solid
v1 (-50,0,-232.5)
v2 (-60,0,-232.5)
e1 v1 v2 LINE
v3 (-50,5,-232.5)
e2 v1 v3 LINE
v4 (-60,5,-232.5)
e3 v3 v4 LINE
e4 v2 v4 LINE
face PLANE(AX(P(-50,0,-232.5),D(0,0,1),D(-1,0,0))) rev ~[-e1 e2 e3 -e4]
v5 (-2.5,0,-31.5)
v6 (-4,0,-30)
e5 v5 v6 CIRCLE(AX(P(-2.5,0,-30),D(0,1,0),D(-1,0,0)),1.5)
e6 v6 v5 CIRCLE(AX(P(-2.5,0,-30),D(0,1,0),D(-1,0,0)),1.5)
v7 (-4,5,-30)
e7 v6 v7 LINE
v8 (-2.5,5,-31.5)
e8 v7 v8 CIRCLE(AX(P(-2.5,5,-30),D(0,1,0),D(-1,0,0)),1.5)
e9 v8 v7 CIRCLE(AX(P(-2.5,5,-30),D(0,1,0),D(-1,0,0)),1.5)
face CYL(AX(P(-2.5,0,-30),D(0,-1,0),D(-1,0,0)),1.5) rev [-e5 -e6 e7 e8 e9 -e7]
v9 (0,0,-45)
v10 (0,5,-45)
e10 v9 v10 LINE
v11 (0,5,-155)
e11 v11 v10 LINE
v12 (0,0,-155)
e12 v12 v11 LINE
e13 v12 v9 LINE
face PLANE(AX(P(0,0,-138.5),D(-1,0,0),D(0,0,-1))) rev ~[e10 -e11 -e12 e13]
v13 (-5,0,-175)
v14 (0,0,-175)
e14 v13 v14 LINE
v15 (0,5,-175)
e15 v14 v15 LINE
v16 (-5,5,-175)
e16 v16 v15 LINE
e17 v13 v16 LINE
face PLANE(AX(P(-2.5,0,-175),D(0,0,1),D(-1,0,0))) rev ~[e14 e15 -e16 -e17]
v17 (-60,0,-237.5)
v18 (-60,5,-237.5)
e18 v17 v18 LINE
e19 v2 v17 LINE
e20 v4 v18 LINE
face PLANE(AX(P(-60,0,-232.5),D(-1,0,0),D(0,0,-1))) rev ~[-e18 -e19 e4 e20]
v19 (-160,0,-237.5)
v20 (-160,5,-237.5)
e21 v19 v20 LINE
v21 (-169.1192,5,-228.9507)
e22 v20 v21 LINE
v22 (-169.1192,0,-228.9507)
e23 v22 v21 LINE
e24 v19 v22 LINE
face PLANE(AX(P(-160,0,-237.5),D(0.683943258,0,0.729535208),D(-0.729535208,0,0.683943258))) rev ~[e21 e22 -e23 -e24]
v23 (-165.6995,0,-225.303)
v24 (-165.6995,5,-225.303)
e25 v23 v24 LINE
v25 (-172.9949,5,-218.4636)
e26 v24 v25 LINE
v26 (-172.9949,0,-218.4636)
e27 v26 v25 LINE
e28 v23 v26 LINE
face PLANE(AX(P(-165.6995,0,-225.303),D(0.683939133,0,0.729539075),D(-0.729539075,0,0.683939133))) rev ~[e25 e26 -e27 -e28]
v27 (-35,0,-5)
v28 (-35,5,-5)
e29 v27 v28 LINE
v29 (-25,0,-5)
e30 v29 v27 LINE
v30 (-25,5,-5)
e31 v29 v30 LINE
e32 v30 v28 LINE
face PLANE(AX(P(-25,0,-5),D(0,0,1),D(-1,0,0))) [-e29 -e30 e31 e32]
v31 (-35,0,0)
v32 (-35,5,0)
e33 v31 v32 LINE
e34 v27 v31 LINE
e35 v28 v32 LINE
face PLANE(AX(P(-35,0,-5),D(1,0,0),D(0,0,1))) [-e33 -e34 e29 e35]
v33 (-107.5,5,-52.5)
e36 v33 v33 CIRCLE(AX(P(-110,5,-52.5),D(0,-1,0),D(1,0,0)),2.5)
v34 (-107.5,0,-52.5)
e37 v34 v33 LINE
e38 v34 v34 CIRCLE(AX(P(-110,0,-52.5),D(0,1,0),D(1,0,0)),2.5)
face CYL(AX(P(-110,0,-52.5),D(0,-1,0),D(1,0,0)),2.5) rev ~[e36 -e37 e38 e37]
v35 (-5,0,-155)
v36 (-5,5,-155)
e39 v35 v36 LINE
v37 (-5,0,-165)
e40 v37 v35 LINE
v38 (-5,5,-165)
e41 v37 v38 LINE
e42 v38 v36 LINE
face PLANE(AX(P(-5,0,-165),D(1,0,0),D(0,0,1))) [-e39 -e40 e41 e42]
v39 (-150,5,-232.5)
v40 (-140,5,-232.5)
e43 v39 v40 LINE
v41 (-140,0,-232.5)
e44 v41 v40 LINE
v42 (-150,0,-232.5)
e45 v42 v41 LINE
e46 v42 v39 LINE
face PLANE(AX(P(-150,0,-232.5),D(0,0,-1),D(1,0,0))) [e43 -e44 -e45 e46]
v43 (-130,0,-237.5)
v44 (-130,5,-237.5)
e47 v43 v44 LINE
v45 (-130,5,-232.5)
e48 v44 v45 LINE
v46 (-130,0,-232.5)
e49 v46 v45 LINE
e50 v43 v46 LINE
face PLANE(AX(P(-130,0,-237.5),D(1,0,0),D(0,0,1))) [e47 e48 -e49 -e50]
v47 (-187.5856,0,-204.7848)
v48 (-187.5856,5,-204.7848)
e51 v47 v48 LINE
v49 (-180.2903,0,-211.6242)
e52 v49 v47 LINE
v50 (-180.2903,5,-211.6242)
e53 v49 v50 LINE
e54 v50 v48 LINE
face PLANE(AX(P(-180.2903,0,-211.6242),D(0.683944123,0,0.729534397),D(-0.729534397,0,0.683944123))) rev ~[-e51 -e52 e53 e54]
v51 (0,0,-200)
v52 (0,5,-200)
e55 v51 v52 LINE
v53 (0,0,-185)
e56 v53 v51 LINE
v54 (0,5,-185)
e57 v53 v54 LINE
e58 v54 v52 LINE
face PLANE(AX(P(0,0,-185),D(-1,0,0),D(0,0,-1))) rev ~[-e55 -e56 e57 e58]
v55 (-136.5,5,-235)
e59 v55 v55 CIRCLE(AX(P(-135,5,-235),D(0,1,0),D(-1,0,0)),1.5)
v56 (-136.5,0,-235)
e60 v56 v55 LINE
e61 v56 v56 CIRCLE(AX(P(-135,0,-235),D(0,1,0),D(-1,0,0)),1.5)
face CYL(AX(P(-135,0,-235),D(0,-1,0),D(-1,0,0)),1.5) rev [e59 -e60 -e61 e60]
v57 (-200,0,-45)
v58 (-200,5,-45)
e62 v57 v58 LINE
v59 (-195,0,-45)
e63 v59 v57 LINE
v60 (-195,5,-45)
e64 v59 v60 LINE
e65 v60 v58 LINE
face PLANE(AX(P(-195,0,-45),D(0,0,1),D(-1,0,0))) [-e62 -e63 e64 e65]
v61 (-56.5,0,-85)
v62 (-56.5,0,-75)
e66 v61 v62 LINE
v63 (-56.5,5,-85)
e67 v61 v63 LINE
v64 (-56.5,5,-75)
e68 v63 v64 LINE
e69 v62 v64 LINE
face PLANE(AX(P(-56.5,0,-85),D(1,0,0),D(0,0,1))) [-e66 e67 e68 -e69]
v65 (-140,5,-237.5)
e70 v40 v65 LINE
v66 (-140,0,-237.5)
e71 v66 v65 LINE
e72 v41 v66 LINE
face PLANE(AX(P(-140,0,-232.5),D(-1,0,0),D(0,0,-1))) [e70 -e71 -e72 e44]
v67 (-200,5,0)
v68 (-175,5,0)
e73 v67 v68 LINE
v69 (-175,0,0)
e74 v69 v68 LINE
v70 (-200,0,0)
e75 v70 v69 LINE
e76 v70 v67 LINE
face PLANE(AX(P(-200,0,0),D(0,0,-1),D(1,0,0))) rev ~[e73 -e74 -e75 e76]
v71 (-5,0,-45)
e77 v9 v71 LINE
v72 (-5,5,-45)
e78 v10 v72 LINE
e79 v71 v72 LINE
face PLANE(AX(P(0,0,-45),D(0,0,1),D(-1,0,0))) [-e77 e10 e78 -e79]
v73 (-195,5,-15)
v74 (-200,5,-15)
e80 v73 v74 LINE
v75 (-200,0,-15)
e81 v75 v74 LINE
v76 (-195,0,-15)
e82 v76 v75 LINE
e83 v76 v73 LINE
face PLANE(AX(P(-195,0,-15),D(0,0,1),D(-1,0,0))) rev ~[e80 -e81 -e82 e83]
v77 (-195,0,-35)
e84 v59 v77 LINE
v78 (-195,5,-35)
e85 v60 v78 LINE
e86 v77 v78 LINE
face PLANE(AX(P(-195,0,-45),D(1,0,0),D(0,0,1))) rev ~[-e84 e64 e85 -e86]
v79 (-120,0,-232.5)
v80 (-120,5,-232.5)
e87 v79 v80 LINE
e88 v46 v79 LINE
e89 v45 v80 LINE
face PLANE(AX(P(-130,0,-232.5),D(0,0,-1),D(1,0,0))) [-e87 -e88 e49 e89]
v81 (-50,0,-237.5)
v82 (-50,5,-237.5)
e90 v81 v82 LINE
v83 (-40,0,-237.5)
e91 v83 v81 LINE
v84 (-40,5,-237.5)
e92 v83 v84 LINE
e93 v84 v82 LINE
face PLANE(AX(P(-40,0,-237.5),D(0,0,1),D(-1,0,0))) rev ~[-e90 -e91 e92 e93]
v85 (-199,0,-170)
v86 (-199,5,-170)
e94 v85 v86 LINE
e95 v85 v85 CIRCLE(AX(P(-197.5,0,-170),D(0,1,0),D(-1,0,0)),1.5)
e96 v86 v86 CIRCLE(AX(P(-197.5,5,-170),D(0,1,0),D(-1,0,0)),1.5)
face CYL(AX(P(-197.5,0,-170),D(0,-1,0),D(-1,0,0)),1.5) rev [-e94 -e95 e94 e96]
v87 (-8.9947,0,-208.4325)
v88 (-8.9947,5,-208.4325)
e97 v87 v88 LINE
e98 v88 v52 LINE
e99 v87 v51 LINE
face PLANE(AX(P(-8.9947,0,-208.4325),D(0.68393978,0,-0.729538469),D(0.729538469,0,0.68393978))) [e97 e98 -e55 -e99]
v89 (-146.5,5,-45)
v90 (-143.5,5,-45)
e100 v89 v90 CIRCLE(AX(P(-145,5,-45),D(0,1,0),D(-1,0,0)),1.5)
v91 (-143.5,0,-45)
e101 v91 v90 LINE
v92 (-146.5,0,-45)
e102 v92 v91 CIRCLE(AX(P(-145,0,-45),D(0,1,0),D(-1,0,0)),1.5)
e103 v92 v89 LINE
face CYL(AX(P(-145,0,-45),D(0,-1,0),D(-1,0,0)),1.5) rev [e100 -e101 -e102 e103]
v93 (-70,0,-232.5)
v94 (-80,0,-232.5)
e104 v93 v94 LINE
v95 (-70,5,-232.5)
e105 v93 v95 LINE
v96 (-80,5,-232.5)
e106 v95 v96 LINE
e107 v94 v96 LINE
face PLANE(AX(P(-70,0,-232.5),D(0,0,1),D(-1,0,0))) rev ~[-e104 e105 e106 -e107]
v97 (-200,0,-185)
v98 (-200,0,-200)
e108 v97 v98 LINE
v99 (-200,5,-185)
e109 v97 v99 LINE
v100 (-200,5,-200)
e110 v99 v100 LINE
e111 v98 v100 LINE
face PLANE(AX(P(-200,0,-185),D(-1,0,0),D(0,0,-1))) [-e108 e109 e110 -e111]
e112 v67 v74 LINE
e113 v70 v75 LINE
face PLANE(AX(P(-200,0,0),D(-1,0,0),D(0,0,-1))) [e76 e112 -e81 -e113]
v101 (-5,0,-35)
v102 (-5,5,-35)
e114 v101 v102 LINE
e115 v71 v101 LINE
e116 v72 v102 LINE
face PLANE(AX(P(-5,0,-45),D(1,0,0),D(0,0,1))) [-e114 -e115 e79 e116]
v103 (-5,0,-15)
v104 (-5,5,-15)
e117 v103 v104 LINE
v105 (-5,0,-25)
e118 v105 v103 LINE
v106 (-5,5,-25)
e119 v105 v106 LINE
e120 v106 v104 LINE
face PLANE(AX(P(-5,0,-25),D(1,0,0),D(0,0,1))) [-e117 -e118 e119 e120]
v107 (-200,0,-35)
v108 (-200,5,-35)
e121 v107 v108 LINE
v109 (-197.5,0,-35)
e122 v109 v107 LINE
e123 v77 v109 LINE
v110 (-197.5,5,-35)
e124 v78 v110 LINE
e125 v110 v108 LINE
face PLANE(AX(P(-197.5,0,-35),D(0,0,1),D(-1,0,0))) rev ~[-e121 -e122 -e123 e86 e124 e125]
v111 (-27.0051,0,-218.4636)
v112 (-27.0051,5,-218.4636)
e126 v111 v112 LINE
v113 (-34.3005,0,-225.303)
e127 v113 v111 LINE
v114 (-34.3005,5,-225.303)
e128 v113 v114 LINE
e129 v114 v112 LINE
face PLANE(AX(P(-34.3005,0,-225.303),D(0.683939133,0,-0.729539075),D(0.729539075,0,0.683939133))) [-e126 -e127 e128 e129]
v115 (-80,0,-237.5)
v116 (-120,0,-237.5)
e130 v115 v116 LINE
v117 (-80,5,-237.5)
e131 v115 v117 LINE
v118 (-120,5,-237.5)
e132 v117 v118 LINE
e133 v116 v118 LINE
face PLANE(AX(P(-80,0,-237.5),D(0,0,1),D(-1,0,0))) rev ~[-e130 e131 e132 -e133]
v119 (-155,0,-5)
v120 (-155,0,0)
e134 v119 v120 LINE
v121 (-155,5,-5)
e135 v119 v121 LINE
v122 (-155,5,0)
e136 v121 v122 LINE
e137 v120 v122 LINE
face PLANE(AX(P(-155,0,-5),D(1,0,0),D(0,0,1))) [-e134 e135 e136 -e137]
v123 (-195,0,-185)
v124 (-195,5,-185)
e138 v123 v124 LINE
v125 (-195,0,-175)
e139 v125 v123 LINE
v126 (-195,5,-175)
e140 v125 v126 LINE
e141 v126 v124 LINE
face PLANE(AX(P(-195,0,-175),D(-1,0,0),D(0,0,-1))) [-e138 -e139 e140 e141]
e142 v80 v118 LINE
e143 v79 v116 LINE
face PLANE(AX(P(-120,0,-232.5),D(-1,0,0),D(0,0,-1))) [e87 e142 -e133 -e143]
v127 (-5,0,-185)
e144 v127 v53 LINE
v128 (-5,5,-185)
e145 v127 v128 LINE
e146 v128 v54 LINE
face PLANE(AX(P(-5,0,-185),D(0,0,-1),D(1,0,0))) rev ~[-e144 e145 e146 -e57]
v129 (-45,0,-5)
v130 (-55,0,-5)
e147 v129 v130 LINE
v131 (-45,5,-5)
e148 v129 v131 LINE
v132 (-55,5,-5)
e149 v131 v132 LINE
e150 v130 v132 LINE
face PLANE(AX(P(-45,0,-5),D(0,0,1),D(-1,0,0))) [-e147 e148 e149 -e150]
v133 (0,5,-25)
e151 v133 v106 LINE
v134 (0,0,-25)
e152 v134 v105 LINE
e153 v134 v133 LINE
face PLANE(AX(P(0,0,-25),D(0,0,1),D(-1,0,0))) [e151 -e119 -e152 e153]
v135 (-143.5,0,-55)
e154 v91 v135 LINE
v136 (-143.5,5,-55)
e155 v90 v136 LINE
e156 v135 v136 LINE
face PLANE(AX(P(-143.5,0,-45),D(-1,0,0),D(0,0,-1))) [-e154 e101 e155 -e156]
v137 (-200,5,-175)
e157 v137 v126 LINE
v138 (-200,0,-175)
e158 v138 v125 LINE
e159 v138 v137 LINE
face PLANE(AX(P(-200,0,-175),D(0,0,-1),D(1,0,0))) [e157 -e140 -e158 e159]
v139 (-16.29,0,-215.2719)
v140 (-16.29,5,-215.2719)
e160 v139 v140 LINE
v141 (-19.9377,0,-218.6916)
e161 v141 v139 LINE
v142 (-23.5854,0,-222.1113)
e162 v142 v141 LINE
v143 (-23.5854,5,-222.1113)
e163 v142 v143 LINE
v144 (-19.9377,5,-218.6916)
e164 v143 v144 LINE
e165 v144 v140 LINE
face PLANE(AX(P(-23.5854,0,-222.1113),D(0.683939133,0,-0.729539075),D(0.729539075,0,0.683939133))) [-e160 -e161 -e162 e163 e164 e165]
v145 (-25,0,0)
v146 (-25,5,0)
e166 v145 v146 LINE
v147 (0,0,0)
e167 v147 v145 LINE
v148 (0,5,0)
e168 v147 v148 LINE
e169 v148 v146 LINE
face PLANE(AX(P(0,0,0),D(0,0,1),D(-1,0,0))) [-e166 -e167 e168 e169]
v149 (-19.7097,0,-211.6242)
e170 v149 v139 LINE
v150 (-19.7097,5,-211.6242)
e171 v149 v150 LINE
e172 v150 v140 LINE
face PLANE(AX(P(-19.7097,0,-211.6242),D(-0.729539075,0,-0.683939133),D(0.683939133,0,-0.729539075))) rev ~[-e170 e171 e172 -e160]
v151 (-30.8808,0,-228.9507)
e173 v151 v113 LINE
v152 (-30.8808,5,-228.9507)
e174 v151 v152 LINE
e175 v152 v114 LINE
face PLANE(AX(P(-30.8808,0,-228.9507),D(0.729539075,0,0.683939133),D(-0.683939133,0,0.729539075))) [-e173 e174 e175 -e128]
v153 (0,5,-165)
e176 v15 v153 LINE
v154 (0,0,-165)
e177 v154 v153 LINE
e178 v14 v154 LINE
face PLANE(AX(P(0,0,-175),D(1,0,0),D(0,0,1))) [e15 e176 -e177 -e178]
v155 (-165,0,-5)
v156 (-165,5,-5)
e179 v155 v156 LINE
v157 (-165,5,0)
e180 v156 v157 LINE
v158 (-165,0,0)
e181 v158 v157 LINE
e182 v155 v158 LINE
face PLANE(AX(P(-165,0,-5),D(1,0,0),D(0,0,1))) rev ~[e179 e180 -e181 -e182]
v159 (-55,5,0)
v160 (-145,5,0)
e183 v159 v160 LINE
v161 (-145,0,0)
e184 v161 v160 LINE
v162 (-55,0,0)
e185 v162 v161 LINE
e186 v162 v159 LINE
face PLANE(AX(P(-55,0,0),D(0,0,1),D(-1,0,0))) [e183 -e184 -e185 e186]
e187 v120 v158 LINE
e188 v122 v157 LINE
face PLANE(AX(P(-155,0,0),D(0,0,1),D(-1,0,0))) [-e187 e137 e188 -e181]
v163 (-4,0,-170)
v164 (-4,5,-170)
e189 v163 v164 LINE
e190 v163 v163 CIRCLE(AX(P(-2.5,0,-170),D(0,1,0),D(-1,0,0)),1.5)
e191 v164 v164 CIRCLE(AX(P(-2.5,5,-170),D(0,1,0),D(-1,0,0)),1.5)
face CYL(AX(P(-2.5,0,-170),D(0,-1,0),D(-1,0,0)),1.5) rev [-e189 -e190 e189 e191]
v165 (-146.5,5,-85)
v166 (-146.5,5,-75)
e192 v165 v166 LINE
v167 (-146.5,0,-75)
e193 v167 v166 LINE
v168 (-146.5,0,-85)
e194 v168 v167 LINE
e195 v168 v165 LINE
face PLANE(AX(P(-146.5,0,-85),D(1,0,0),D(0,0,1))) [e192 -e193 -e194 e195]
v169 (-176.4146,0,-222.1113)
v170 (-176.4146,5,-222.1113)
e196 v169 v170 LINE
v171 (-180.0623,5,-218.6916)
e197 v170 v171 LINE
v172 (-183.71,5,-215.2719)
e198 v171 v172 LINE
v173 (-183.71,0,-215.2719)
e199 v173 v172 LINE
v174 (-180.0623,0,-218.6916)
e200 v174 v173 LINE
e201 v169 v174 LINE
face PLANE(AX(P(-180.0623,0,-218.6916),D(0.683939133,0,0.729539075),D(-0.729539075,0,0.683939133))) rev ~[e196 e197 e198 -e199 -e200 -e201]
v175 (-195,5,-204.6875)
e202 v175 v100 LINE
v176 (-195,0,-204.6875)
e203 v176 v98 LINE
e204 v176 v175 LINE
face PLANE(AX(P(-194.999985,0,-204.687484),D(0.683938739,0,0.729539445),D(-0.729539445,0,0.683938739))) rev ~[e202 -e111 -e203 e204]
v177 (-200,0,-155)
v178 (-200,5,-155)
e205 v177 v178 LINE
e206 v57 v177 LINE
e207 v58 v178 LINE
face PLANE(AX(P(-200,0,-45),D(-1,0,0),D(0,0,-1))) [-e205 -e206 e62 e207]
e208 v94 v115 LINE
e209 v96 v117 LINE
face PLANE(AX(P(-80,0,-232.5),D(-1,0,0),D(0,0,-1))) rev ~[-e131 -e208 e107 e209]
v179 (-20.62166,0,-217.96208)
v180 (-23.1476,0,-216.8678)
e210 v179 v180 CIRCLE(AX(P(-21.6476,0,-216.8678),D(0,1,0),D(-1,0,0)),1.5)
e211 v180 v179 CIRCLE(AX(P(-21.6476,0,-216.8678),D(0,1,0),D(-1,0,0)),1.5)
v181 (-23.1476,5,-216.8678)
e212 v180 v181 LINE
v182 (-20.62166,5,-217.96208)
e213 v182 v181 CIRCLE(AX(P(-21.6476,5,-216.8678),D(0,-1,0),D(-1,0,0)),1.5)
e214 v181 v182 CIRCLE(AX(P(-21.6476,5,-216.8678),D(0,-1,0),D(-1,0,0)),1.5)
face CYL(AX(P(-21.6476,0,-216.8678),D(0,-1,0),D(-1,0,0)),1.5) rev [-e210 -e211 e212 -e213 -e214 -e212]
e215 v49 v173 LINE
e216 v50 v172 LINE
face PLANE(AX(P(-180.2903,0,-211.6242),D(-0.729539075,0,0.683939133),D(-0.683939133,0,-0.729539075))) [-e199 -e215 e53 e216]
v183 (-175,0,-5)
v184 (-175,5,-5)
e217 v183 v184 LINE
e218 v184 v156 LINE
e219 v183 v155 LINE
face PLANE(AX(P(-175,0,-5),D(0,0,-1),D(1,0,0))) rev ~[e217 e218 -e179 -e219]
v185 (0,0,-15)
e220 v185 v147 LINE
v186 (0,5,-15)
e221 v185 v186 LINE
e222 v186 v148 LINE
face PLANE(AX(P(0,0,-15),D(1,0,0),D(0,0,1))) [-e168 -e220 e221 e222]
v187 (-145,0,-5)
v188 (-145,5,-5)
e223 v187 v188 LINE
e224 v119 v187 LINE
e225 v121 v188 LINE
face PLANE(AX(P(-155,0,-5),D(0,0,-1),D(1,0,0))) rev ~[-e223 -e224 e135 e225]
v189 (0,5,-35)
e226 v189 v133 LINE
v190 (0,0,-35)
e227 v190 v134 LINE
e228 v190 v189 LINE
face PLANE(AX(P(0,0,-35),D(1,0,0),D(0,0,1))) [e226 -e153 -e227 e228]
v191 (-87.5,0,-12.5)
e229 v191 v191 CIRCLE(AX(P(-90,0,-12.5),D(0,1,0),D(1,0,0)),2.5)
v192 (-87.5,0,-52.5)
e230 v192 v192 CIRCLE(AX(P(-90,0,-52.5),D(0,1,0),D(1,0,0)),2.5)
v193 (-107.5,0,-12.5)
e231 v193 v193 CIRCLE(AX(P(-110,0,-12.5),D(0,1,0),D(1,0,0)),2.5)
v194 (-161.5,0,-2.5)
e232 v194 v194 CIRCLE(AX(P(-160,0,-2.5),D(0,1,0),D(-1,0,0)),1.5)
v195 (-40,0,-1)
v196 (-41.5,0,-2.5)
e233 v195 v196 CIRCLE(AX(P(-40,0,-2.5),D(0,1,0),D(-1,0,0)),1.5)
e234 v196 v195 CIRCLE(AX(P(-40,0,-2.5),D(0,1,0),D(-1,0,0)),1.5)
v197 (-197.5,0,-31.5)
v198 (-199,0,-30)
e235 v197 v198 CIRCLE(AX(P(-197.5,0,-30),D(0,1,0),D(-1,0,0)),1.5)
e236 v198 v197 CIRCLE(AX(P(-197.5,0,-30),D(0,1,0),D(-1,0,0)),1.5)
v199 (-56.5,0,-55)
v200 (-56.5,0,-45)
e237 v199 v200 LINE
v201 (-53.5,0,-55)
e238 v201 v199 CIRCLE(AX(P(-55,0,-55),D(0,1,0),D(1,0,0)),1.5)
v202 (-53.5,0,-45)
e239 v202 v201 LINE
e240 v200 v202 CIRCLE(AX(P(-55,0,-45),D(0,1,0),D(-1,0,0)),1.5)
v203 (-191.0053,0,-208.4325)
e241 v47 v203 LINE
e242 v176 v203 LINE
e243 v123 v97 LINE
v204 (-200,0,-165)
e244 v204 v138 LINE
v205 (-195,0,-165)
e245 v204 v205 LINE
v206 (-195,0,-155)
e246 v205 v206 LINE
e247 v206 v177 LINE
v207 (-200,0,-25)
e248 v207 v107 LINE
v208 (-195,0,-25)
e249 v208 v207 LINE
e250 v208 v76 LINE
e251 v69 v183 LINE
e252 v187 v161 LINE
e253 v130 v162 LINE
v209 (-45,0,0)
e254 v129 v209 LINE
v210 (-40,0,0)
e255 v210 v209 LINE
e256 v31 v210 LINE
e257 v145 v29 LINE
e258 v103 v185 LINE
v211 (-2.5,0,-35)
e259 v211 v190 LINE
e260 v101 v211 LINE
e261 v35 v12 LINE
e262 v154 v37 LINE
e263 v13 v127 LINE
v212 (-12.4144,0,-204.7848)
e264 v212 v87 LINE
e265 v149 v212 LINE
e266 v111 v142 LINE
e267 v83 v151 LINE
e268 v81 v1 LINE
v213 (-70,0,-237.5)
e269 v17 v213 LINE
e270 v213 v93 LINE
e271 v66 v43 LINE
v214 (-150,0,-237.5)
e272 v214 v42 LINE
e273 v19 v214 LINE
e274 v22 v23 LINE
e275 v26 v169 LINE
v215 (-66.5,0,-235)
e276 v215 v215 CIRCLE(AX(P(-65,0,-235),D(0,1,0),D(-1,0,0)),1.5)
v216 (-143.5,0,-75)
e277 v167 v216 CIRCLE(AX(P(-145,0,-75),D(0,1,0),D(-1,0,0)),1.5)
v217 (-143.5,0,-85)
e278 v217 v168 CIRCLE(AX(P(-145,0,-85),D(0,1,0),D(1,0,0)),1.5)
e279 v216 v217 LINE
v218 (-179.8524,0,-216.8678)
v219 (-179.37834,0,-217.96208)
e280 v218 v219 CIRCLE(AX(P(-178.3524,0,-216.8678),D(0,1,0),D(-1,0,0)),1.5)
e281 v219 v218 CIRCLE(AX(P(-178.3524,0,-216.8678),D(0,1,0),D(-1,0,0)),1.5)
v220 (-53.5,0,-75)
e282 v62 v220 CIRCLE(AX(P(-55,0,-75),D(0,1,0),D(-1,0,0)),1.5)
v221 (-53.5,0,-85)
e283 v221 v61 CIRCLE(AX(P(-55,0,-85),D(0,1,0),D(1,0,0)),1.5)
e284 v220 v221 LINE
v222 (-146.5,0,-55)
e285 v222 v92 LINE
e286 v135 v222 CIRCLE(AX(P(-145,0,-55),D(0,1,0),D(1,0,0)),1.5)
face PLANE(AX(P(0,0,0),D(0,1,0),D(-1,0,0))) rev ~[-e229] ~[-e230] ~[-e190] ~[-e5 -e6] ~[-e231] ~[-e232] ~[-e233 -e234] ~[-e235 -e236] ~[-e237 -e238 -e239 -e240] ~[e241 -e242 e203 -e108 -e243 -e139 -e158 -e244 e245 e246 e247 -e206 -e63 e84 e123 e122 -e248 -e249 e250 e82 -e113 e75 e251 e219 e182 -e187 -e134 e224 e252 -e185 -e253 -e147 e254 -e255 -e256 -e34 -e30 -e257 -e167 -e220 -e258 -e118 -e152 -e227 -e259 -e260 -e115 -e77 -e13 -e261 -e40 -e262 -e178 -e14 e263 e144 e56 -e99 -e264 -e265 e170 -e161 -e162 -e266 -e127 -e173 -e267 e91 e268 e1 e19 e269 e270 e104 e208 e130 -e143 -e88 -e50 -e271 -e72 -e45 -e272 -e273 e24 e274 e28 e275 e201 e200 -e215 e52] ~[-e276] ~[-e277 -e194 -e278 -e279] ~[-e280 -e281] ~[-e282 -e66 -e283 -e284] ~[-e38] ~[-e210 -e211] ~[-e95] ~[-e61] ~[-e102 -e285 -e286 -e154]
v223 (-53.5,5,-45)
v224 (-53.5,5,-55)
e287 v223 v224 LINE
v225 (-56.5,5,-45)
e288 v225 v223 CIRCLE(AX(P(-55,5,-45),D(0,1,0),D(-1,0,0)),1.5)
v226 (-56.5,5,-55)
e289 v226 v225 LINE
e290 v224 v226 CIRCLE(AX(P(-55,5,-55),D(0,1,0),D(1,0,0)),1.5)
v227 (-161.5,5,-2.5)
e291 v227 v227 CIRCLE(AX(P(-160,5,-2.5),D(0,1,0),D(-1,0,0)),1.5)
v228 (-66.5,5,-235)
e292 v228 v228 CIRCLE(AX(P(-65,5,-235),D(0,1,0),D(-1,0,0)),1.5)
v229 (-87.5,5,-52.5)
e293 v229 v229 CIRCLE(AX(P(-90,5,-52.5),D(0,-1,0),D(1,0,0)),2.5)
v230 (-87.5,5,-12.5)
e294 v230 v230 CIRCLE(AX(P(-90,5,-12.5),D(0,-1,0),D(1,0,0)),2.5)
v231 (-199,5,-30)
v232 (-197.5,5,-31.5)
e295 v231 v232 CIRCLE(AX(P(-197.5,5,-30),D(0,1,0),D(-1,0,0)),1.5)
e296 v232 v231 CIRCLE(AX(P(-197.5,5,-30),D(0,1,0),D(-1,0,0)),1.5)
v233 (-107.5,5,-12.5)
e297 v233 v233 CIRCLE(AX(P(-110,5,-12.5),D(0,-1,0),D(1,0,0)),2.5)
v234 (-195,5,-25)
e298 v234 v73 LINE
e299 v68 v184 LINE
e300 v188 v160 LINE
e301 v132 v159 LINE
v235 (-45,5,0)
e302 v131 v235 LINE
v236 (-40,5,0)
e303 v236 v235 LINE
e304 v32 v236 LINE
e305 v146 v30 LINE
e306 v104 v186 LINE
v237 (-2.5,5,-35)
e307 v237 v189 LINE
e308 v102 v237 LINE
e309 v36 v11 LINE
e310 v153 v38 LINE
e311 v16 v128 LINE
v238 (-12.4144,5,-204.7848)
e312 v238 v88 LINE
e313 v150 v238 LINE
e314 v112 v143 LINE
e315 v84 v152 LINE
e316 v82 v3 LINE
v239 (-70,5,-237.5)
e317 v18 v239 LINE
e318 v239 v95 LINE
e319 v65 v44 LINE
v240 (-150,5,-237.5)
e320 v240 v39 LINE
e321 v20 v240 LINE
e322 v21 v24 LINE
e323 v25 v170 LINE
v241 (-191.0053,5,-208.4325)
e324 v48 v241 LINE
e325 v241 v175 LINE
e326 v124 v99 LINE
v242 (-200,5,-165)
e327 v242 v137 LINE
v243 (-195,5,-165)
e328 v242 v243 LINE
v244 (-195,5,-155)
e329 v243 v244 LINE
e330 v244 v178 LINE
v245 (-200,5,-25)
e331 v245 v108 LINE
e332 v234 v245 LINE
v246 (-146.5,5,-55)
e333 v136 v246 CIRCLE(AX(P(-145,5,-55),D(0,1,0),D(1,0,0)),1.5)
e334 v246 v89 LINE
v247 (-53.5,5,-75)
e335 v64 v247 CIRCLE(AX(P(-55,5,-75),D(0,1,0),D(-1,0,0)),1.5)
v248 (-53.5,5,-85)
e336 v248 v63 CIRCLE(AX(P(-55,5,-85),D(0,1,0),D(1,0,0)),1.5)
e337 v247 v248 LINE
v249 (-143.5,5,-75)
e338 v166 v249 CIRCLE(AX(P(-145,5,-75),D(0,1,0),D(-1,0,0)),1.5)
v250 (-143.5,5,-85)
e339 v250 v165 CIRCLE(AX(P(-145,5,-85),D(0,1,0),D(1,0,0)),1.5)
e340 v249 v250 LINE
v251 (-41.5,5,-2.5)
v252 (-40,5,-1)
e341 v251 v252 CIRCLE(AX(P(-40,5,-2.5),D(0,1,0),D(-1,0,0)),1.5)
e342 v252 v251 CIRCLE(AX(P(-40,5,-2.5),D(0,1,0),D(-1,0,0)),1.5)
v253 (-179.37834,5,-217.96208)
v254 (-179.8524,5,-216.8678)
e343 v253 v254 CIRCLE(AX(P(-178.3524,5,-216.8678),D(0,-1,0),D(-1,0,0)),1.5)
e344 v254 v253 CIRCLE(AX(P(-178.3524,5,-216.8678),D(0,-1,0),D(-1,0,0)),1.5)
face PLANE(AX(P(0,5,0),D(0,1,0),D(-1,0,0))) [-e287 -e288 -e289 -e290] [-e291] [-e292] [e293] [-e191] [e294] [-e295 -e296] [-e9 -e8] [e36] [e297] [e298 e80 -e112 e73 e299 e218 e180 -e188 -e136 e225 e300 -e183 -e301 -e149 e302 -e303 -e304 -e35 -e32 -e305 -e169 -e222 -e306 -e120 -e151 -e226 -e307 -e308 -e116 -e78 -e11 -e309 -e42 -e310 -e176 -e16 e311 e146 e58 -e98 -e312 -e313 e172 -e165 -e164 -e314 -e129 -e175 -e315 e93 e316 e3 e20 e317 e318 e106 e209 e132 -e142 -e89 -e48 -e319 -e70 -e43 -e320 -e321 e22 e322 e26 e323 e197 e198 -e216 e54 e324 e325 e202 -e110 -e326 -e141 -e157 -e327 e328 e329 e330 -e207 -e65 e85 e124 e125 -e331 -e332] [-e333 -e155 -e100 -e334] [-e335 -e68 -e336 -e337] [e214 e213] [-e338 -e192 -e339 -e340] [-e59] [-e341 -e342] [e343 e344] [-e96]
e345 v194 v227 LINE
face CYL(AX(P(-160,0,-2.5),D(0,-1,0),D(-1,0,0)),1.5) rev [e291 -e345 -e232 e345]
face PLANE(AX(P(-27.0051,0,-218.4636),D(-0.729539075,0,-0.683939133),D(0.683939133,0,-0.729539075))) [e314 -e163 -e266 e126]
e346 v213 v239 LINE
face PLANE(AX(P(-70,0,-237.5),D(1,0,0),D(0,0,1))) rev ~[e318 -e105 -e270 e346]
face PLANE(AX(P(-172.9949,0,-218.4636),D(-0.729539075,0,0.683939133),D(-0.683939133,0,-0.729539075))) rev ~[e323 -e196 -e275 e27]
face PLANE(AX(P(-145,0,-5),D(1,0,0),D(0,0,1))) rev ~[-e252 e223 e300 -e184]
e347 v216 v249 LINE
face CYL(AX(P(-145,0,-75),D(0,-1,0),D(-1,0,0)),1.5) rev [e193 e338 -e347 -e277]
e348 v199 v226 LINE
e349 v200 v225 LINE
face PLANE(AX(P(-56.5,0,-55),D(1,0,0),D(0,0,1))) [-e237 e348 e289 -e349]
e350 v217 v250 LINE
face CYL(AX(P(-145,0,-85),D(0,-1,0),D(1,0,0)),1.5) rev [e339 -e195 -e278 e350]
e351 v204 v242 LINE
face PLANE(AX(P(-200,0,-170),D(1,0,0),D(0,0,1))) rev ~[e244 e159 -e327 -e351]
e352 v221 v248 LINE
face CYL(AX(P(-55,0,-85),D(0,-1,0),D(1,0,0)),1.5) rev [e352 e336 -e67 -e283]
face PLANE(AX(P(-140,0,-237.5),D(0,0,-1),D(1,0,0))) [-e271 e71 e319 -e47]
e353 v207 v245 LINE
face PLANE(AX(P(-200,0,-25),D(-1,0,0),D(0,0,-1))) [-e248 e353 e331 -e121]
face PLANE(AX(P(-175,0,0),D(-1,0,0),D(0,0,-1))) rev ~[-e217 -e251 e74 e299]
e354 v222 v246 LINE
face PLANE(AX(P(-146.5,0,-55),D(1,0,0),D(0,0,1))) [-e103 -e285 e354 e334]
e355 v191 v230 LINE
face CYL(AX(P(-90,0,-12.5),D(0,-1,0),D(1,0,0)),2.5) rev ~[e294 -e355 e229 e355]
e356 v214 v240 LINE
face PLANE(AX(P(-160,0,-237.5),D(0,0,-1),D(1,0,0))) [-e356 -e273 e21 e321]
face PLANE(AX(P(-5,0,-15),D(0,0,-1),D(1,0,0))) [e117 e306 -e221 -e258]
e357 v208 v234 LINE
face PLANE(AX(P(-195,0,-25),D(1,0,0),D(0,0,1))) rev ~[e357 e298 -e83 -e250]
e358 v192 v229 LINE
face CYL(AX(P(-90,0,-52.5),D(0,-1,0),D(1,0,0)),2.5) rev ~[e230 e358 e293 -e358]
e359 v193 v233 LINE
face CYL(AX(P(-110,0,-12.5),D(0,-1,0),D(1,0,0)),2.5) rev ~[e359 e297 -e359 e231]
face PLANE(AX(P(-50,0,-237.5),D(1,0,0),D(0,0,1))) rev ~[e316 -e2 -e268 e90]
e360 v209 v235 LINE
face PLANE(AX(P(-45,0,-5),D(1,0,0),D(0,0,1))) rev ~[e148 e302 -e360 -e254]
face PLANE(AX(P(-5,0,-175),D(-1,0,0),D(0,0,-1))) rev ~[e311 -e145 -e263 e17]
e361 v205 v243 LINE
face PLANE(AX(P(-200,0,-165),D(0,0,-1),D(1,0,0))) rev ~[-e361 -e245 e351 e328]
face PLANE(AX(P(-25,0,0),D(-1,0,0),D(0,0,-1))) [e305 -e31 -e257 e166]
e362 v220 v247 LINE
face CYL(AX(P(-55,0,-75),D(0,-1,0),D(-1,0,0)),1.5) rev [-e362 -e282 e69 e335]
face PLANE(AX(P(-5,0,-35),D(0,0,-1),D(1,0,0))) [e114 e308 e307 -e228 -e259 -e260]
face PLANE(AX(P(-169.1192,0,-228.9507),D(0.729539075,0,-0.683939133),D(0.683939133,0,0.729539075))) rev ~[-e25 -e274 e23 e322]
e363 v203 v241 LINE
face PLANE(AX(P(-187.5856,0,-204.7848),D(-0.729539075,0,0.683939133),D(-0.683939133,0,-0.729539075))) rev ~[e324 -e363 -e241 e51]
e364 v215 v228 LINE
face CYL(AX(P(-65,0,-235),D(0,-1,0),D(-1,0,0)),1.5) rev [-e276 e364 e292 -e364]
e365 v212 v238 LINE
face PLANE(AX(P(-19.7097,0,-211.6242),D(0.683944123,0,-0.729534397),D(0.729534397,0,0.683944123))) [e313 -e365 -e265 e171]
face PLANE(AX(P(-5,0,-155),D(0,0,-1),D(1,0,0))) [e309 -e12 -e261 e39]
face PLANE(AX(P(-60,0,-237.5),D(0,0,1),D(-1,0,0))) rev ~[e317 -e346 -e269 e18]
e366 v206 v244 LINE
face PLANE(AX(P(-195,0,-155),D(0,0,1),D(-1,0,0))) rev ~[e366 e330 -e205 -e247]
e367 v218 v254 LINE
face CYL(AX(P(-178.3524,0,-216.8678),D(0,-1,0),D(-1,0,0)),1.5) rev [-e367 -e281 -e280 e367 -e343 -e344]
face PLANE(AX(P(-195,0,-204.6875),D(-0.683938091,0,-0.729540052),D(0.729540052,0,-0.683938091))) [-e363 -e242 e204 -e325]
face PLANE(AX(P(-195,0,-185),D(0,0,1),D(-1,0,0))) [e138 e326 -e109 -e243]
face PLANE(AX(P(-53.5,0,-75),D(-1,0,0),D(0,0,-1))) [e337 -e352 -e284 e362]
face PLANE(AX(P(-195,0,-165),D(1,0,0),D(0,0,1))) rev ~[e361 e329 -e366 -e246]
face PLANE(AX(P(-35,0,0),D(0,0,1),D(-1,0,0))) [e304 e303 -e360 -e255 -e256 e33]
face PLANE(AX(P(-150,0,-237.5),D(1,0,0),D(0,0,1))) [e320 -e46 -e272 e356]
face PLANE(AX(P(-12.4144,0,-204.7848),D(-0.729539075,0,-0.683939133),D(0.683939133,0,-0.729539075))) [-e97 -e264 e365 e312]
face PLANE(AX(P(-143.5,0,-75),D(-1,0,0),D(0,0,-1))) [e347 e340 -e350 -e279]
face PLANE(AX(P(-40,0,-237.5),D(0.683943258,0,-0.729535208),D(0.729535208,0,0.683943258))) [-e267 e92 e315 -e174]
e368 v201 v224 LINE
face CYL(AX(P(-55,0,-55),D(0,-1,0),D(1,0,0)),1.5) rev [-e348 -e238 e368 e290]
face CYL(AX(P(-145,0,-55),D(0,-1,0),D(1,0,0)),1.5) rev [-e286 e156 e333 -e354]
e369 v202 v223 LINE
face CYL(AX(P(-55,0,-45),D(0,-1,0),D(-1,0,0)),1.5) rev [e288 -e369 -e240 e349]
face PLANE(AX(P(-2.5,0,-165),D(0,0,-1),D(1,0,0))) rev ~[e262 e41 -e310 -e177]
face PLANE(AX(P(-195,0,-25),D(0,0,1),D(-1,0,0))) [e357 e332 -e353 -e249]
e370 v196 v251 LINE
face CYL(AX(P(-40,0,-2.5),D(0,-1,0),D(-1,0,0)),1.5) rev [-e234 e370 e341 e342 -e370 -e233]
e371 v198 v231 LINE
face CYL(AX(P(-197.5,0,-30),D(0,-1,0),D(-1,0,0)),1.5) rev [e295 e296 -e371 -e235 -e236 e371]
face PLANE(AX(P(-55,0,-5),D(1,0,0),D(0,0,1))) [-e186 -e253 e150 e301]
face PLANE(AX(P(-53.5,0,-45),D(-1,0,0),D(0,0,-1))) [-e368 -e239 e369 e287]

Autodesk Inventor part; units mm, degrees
ref_plane "YZ Plane" through (0, 0, 0) normal (1, 0, 0) x (0, 1, 0)
sketch "Sketch1" plane through (0, 0, 0) normal (0, 1, 0) x (-1, 0, 0)
  line L0 (40, -237.5) -> (40, -237.5)
  line L1 (40, -237.5) -> (40, -237.5)
  line L2 (0, 0) -> (2.5, 0)
  line L3 (40, -237.5) -> (40, -237.5)
  line L4 (0, -90) -> (0, -80)
  line L5 (0, -70) -> (0, -45)
  line L6 (5, -45) -> (5, -35)
  line L7 (5, -35) -> (0, -35)
  line L8 (0, -35) -> (0, -25)
  line L9 (0, -25) -> (5, -25)
  line L10 (5, -25) -> (5, -15)
  line L11 (5, -15) -> (0, -15)
  line L12 (195, -45) -> (195, -35)
  line L13 (195, -35) -> (200, -35)
  line L14 (195, -25) -> (195, -15)
  line L15 (195, -15) -> (200, -15)
  line L16 (0, 0) -> (25, 0)
  line L17 (25, 0) -> (25, -5)
  line L18 (25, -5) -> (35, -5)
  line L19 (35, -5) -> (35, 0)
  line L20 (45, -5) -> (45, 0)
  line L21 (45, -5) -> (55, -5)
  line L22 (55, -5) -> (55, 0)
  line L23 (200, 0) -> (175, 0)
  line L24 (175, 0) -> (175, -5)
  line L25 (175, -5) -> (165, -5)
  line L26 (165, -5) -> (165, 0)
  line L27 (155, -5) -> (155, 0)
  line L28 (155, -5) -> (145, -5)
  line L29 (145, -5) -> (145, 0)
  line L30 (195, -45) -> (200, -45)
  line L31 (200, -45) -> (195, -45)
  line L32 (0, -45) -> (5, -45)
  line L33 (35, -35) -> (35, -25)
  line L34 (35, -45) -> (55, -45)
  line L35 (55, -45) -> (55, -43.5)
  line L36 (146.5, -45) -> (145, -45)
  line L37 (145, -45) -> (145, -43.5)
  line L38 (55, -85) -> (53.5, -85)
  line L39 (145, -85) -> (146.5, -85)
  line L40 (55, -85) -> (55, -75) construction
  line L41 (56.5, -85) -> (56.5, -75)
  line L42 (53.5, -75) -> (53.5, -85)
  arc A0 (53.5, -85) -> (56.5, -85) centre (55, -85) ccw
  arc A1 (56.5, -75) -> (53.5, -75) centre (55, -75) ccw
  line L43 (145, -85) -> (145, -75) construction
  line L44 (146.5, -85) -> (146.5, -75)
  line L45 (143.5, -75) -> (143.5, -85)
  arc A2 (143.5, -85) -> (146.5, -85) centre (145, -85) ccw
  arc A3 (146.5, -75) -> (143.5, -75) centre (145, -75) ccw
  line L46 (55, -45) -> (55, -55) construction
  line L47 (53.5, -45) -> (53.5, -55)
  line L48 (56.5, -55) -> (56.5, -45)
  arc A4 (56.5, -45) -> (53.5, -45) centre (55, -45) ccw
  arc A5 (53.5, -55) -> (56.5, -55) centre (55, -55) ccw
  line L49 (145, -45) -> (145, -55) construction
  line L50 (143.5, -45) -> (143.5, -55)
  line L51 (146.5, -55) -> (146.5, -45)
  arc A6 (146.5, -45) -> (143.5, -45) centre (145, -45) ccw
  arc A7 (143.5, -55) -> (146.5, -55) centre (145, -55) ccw
  line L52 (0, -185) -> (0, -200)
  line L53 (200, -187.5) -> (200, -200)
  line L54 (200, -187.5) -> (200, -200)
  circle A8 centre (2.5, -170) radius 1.5
  line L55 (0, -138.5) -> (0, -155)
  line L56 (2.5, -175) -> (0, -175)
  line L57 (0, -175) -> (5, -175)
  line L58 (5, -175) -> (5, -185)
  line L59 (5, -185) -> (0, -185)
  line L60 (2.5, -165) -> (0, -165)
  line L61 (2.5, -165) -> (5, -165)
  line L62 (5, -165) -> (5, -155)
  line L63 (5, -155) -> (0, -155)
  line L64 (0, -25) -> (5, -25)
  line L65 (195, -25) -> (200, -25)
  line L66 (0, -25) -> (5, -25)
  line L67 (35, -25) -> (40, -25)
  line L68 (2.5, -35) -> (2.5, -30)
  circle A9 centre (2.5, -30) radius 1.5
  line L69 (40, 0) -> (40, -2.5)
  circle A10 centre (40, -2.5) radius 1.5
  line L70 (160, -1) -> (160, -2.5)
  circle A11 centre (160, -2.5) radius 1.5
  line L71 (197.5, -35) -> (197.5, -30)
  circle A12 centre (197.5, -30) radius 1.5
  line L72 (200, -145) -> (200, -135)
  line L73 (200, -135) -> (200, -145)
  line L74 (200, -135) -> (200, -145)
  line L75 (200, -82.5) -> (200, -90)
  line L76 (200, -100) -> (200, -125)
  line L77 (200, -80) -> (200, -82.5)
  line L78 (200, -82.5) -> (200, -90)
  line L79 (200, -100) -> (200, -125)
  line L80 (0, -120) -> (0, -100)
  line L81 (0, -90) -> (0, -80)
  line L82 (0, -70) -> (0, 0)
  line L83 (0, -175) -> (0, -165)
  line L84 (0, -155) -> (0, -120)
  line L85 (80, -237.5) -> (120, -237.5)
  line L86 (0, 0) -> (25, 0)
  line L87 (35, 0) -> (45, 0)
  line L88 (55, 0) -> (145, 0)
  line L89 (155, 0) -> (165, 0)
  line L90 (175, 0) -> (200, 0)
  line L91 (200, 0) -> (200, -15)
  line L92 (200, -25) -> (200, -35)
  line L93 (200, -45) -> (200, -70)
  line L94 (0, -100) -> (0, -90)
  line L95 (0, -80) -> (0, -70)
  line L96 (200, -100) -> (200, -90)
  line L97 (200, -80) -> (200, -70)
  line L98 (0, -175) -> (0, -165)
  line L99 (0, -155) -> (0, -120)
  line L100 (0, -120) -> (0, -155)
  line L101 (0, -165) -> (0, -175)
  line L102 (0, -175) -> (0, -165)
  line L103 (0, -155) -> (0, -100)
  line L104 (200, -125) -> (200, -135)
  line L105 (200, -145) -> (200, -155)
  circle A13 centre (197.5, -170) radius 1.5
  line L106 (200, -170) -> (200, -165)
  line L107 (200, -165) -> (195, -165)
  line L108 (195, -165) -> (195, -155)
  line L109 (195, -155) -> (200, -155)
  line L110 (200, -170) -> (200, -175)
  line L111 (200, -175) -> (195, -175)
  line L112 (195, -175) -> (195, -185)
  line L113 (195, -185) -> (200, -185)
  line L114 (200, -165) -> (200, -175)
  line L115 (200, -185) -> (200, -187.5)
  line L116 (200, -165) -> (200, -175)
  line L117 (200, -185) -> (200, -187.5)
  line L118 (2.5, -170) -> (4, -170)
  line L119 (40, -237.5) -> (50, -237.5)
  line L120 (60, -237.5) -> (70, -237.5)
  line L121 (40, -237.5) -> (50, -237.5)
  line L122 (50, -237.5) -> (50, -232.5)
  line L123 (50, -232.5) -> (60, -232.5)
  line L124 (60, -232.5) -> (60, -237.5)
  line L125 (60, -237.5) -> (70, -237.5)
  line L126 (70, -237.5) -> (70, -232.5)
  line L127 (70, -232.5) -> (80, -232.5)
  line L128 (80, -232.5) -> (80, -237.5)
  circle A14 centre (65, -235) radius 1.5
  line L129 (160, -237.5) -> (150, -237.5)
  line L130 (150, -237.5) -> (150, -232.5)
  line L131 (150, -232.5) -> (140, -232.5)
  line L132 (140, -232.5) -> (140, -237.5)
  line L133 (140, -237.5) -> (130, -237.5)
  line L134 (130, -237.5) -> (130, -232.5)
  line L135 (130, -232.5) -> (120, -232.5)
  line L136 (120, -232.5) -> (120, -237.5)
  line L137 (130, -237.5) -> (140, -237.5)
  line L138 (150, -237.5) -> (160, -237.5)
  circle A15 centre (135, -235) radius 1.5
  line L139 (40, -237.5) -> (40, -232.5)
  line L140 (160, -237.5) -> (160, -232.5)
  line L141 (195, -204.6875) -> (191.0053, -208.4325)
  line L142 (191.0053, -208.4325) -> (195, -204.6875)
  line L143 (194.9237, -204.759) -> (200, -200)
  line L144 (160, -237.5) -> (169.1192, -228.9507)
  line L145 (169.1192, -228.9507) -> (165.6995, -225.303)
  line L146 (165.6995, -225.303) -> (172.9949, -218.4636)
  line L147 (172.9949, -218.4636) -> (176.4146, -222.1113)
  line L148 (180.2903, -211.6242) -> (183.71, -215.2719)
  line L149 (180.2903, -211.6242) -> (187.5856, -204.7848)
  line L150 (187.5856, -204.7848) -> (191.0053, -208.4325)
  line L151 (176.4146, -222.1113) -> (180.0623, -218.6916)
  line L152 (180.0623, -218.6916) -> (178.3524, -216.8678)
  circle A16 centre (178.3524, -216.8678) radius 1.5
  line L153 (160, -237.5) -> (169.1192, -228.9507)
  line L154 (176.4146, -222.1113) -> (183.71, -215.2719)
  line L155 (191.0053, -208.4325) -> (195, -204.6875)
  line L156 (40, -237.5) -> (30.8808, -228.9507)
  line L157 (30.8808, -228.9507) -> (34.3005, -225.303)
  line L158 (34.3005, -225.303) -> (27.0051, -218.4636)
  line L159 (27.0051, -218.4636) -> (23.5854, -222.1113)
  line L160 (19.7097, -211.6242) -> (16.29, -215.2719)
  line L161 (19.7097, -211.6242) -> (12.4144, -204.7848)
  line L162 (12.4144, -204.7848) -> (8.9947, -208.4325)
  line L163 (23.5854, -222.1113) -> (19.9377, -218.6916)
  line L164 (19.9377, -218.6916) -> (21.6476, -216.8678)
  circle A17 centre (21.6476, -216.8678) radius 1.5
  line L165 (8.9947, -208.4325) -> (0, -200)
  line L166 (40, -237.5) -> (30.8808, -228.9507)
  line L167 (23.5854, -222.1113) -> (16.29, -215.2719)
  line L168 (160, -237.5) -> (200, -200)
  line L169 (200, -200) -> (200, -195)
  line L170 (160, -237.5) -> (156.5803, -233.8523)
  line L171 (156.5803, -233.8523) -> (165.6995, -225.303)
  line L172 (187.5856, -204.7848) -> (196.7048, -196.2356)
  line L173 (196.7048, -196.2356) -> (200, -200)
  line L174 (160, -237.5) -> (160, -230.6463)
  line L175 (200, -200) -> (192.6894, -200)
  point P0 (55, -80)
  point P1 (145, -80)
  point P2 (55, -50)
  point P3 (145, -50)
  dimension "d489" = 3
  dimension "d514" = 3
  dimension "d41" = 2.5
  dimension "d381" = 5
  dimension "d382" = 10
  dimension "d383" = 10
  dimension "d384" = 5
  dimension "d385" = 10
  dimension "d392" = 5
  dimension "d393" = 10
  dimension "d458" = 35
  dimension "d460" = 20
  dimension "d465" = 10
  dimension "d466" = 3
  dimension "d467" = 10
  dimension "d468" = 3
  dimension "d469" = 10
  dimension "d470" = 3
  dimension "d471" = 10
  dimension "d472" = 3
  dimension "d512" = 3
  dimension "d513" = 3
  dimension "d515" = 3
  dimension "d530" = 10
  dimension "d531" = 5
  dimension "d532" = 5
  dimension "d533" = 10
  dimension "d535" = 200
  dimension "d573" = 10
  dimension "d574" = 140
  dimension "d575" = 110
  dimension "d576" = 30
  dimension "d580" = 15
  dimension "d581" = 3
  dimension "d583" = 5
  dimension "d584" = 10
  dimension "d586" = 5
  dimension "d587" = 10
  dimension "d594" = 120
  dimension "d595" = 10
  dimension "d596" = 5
  dimension "d597" = 10
  dimension "d598" = 10
  dimension "d599" = 10
  dimension "d600" = 3
  dimension "d602" = 5
  dimension "d603" = 10
  dimension "d604" = 10
  dimension "d605" = 10
  dimension "d606" = 3
  dimension "d611" = 40
  dimension "d612" = 25
  dimension "d613" = 70
  dimension "d636" = 200
  dimension "d637" = 37.5
  dimension "d638" = 237.5
  dimension "d653" = 5
  dimension "d654" = 10
  dimension "d655" = 10
  dimension "d656" = 10
  dimension "d657" = 5
  dimension "d658" = 2.5
  dimension "d659" = 3
  dimension "d662" = 5
  dimension "d663" = 90
  dimension "d664" = 10
ref_plane "Work Plane2" through (0, 0, 0) normal (0, -1, 0) x (1, 0, 0)
sketch "Sketch2" plane through (0, 0, 0) normal (0, -1, 0) x (1, 0, 0)
  line L0 (-100, -2.5) -> (-100, -12.5)
  line L1 (-100, -12.5) -> (-90, -12.5)
  line L2 (-100, -12.5) -> (-110, -12.5)
  circle A0 centre (-90, -12.5) radius 2.5
  circle A1 centre (-110, -12.5) radius 2.5
  line L3 (-90, -12.5) -> (-90, -52.5)
  line L4 (-90, -52.5) -> (-110, -52.5)
  line L5 (-110, -52.5) -> (-110, -12.5)
  circle A2 centre (-110, -52.5) radius 2.5
  circle A3 centre (-90, -52.5) radius 2.5
  point P0 (-80, -2.5)
  dimension "d326" = 10
  dimension "d327" = 10
  dimension "d328" = 10
  dimension "d329" = 5
  dimension "d330" = 5
  dimension "d475" = 40
  dimension "d476" = 5
  dimension "d477" = 5
ref_plane "Work Plane1" through (0, 0, 0) normal (0, -1, 0) x (1, 0, 0)
sketch "Sketch3" plane through (0, 0, 0) normal (0, -1, 0) x (1, 0, 0)
  point P0 (0, 0)
extrude "Extrusion37" add sketch "Sketch1" along normal blind 5 contours A17 | A16 | L2 L16 L17 L18 L19 L87 L20 L21 L22 L88 L29 L28 L27 L89 L26 L25 L24 L23 L91 L15 L14 L65 L92 L13 L12 L30 L93 L97 L77 L75 L96 L76 L104 L72 L105 L109 L108 L107 L106 L110 L111 L112 L113 L115 L53 L173 L172 L149 L148 L154 L151 L147 L146 L171 L170 L129 L130 L131 L132 L133 L134 L135 L136 L85 L128 L127 L126 L120 L124 L123 L122 L119 L156 L157 L158 L159 L163 L167 L160 L161 L162 L165 L52 L59 L58 L57 L56 L83 L60 L61 L62 L63 L55 L84 L80 L94 L4 L95 L5 L32 L6 L7 L8 L9 L10 L11 L82 | L175 L172 L173 | L143 L141 L150 L172 L175 | L170 L171 L174 L140 | L140 L174 L171 L145 L144
extrude "Extrusion38" cut sketch "Sketch2" against normal blind 5 contours A0 L3 L1 | L1 L3 A0 | A1 L5 L2 | L2 L5 A1 | A3 L4 L3 | L3 L4 A3 | A2 L4 L5 | L5 L4 A2
extrude "Extrusion42" cut sketch "Sketch1" along normal blind 5 contours A17 | A16
properties part number "chassi_mdf"
